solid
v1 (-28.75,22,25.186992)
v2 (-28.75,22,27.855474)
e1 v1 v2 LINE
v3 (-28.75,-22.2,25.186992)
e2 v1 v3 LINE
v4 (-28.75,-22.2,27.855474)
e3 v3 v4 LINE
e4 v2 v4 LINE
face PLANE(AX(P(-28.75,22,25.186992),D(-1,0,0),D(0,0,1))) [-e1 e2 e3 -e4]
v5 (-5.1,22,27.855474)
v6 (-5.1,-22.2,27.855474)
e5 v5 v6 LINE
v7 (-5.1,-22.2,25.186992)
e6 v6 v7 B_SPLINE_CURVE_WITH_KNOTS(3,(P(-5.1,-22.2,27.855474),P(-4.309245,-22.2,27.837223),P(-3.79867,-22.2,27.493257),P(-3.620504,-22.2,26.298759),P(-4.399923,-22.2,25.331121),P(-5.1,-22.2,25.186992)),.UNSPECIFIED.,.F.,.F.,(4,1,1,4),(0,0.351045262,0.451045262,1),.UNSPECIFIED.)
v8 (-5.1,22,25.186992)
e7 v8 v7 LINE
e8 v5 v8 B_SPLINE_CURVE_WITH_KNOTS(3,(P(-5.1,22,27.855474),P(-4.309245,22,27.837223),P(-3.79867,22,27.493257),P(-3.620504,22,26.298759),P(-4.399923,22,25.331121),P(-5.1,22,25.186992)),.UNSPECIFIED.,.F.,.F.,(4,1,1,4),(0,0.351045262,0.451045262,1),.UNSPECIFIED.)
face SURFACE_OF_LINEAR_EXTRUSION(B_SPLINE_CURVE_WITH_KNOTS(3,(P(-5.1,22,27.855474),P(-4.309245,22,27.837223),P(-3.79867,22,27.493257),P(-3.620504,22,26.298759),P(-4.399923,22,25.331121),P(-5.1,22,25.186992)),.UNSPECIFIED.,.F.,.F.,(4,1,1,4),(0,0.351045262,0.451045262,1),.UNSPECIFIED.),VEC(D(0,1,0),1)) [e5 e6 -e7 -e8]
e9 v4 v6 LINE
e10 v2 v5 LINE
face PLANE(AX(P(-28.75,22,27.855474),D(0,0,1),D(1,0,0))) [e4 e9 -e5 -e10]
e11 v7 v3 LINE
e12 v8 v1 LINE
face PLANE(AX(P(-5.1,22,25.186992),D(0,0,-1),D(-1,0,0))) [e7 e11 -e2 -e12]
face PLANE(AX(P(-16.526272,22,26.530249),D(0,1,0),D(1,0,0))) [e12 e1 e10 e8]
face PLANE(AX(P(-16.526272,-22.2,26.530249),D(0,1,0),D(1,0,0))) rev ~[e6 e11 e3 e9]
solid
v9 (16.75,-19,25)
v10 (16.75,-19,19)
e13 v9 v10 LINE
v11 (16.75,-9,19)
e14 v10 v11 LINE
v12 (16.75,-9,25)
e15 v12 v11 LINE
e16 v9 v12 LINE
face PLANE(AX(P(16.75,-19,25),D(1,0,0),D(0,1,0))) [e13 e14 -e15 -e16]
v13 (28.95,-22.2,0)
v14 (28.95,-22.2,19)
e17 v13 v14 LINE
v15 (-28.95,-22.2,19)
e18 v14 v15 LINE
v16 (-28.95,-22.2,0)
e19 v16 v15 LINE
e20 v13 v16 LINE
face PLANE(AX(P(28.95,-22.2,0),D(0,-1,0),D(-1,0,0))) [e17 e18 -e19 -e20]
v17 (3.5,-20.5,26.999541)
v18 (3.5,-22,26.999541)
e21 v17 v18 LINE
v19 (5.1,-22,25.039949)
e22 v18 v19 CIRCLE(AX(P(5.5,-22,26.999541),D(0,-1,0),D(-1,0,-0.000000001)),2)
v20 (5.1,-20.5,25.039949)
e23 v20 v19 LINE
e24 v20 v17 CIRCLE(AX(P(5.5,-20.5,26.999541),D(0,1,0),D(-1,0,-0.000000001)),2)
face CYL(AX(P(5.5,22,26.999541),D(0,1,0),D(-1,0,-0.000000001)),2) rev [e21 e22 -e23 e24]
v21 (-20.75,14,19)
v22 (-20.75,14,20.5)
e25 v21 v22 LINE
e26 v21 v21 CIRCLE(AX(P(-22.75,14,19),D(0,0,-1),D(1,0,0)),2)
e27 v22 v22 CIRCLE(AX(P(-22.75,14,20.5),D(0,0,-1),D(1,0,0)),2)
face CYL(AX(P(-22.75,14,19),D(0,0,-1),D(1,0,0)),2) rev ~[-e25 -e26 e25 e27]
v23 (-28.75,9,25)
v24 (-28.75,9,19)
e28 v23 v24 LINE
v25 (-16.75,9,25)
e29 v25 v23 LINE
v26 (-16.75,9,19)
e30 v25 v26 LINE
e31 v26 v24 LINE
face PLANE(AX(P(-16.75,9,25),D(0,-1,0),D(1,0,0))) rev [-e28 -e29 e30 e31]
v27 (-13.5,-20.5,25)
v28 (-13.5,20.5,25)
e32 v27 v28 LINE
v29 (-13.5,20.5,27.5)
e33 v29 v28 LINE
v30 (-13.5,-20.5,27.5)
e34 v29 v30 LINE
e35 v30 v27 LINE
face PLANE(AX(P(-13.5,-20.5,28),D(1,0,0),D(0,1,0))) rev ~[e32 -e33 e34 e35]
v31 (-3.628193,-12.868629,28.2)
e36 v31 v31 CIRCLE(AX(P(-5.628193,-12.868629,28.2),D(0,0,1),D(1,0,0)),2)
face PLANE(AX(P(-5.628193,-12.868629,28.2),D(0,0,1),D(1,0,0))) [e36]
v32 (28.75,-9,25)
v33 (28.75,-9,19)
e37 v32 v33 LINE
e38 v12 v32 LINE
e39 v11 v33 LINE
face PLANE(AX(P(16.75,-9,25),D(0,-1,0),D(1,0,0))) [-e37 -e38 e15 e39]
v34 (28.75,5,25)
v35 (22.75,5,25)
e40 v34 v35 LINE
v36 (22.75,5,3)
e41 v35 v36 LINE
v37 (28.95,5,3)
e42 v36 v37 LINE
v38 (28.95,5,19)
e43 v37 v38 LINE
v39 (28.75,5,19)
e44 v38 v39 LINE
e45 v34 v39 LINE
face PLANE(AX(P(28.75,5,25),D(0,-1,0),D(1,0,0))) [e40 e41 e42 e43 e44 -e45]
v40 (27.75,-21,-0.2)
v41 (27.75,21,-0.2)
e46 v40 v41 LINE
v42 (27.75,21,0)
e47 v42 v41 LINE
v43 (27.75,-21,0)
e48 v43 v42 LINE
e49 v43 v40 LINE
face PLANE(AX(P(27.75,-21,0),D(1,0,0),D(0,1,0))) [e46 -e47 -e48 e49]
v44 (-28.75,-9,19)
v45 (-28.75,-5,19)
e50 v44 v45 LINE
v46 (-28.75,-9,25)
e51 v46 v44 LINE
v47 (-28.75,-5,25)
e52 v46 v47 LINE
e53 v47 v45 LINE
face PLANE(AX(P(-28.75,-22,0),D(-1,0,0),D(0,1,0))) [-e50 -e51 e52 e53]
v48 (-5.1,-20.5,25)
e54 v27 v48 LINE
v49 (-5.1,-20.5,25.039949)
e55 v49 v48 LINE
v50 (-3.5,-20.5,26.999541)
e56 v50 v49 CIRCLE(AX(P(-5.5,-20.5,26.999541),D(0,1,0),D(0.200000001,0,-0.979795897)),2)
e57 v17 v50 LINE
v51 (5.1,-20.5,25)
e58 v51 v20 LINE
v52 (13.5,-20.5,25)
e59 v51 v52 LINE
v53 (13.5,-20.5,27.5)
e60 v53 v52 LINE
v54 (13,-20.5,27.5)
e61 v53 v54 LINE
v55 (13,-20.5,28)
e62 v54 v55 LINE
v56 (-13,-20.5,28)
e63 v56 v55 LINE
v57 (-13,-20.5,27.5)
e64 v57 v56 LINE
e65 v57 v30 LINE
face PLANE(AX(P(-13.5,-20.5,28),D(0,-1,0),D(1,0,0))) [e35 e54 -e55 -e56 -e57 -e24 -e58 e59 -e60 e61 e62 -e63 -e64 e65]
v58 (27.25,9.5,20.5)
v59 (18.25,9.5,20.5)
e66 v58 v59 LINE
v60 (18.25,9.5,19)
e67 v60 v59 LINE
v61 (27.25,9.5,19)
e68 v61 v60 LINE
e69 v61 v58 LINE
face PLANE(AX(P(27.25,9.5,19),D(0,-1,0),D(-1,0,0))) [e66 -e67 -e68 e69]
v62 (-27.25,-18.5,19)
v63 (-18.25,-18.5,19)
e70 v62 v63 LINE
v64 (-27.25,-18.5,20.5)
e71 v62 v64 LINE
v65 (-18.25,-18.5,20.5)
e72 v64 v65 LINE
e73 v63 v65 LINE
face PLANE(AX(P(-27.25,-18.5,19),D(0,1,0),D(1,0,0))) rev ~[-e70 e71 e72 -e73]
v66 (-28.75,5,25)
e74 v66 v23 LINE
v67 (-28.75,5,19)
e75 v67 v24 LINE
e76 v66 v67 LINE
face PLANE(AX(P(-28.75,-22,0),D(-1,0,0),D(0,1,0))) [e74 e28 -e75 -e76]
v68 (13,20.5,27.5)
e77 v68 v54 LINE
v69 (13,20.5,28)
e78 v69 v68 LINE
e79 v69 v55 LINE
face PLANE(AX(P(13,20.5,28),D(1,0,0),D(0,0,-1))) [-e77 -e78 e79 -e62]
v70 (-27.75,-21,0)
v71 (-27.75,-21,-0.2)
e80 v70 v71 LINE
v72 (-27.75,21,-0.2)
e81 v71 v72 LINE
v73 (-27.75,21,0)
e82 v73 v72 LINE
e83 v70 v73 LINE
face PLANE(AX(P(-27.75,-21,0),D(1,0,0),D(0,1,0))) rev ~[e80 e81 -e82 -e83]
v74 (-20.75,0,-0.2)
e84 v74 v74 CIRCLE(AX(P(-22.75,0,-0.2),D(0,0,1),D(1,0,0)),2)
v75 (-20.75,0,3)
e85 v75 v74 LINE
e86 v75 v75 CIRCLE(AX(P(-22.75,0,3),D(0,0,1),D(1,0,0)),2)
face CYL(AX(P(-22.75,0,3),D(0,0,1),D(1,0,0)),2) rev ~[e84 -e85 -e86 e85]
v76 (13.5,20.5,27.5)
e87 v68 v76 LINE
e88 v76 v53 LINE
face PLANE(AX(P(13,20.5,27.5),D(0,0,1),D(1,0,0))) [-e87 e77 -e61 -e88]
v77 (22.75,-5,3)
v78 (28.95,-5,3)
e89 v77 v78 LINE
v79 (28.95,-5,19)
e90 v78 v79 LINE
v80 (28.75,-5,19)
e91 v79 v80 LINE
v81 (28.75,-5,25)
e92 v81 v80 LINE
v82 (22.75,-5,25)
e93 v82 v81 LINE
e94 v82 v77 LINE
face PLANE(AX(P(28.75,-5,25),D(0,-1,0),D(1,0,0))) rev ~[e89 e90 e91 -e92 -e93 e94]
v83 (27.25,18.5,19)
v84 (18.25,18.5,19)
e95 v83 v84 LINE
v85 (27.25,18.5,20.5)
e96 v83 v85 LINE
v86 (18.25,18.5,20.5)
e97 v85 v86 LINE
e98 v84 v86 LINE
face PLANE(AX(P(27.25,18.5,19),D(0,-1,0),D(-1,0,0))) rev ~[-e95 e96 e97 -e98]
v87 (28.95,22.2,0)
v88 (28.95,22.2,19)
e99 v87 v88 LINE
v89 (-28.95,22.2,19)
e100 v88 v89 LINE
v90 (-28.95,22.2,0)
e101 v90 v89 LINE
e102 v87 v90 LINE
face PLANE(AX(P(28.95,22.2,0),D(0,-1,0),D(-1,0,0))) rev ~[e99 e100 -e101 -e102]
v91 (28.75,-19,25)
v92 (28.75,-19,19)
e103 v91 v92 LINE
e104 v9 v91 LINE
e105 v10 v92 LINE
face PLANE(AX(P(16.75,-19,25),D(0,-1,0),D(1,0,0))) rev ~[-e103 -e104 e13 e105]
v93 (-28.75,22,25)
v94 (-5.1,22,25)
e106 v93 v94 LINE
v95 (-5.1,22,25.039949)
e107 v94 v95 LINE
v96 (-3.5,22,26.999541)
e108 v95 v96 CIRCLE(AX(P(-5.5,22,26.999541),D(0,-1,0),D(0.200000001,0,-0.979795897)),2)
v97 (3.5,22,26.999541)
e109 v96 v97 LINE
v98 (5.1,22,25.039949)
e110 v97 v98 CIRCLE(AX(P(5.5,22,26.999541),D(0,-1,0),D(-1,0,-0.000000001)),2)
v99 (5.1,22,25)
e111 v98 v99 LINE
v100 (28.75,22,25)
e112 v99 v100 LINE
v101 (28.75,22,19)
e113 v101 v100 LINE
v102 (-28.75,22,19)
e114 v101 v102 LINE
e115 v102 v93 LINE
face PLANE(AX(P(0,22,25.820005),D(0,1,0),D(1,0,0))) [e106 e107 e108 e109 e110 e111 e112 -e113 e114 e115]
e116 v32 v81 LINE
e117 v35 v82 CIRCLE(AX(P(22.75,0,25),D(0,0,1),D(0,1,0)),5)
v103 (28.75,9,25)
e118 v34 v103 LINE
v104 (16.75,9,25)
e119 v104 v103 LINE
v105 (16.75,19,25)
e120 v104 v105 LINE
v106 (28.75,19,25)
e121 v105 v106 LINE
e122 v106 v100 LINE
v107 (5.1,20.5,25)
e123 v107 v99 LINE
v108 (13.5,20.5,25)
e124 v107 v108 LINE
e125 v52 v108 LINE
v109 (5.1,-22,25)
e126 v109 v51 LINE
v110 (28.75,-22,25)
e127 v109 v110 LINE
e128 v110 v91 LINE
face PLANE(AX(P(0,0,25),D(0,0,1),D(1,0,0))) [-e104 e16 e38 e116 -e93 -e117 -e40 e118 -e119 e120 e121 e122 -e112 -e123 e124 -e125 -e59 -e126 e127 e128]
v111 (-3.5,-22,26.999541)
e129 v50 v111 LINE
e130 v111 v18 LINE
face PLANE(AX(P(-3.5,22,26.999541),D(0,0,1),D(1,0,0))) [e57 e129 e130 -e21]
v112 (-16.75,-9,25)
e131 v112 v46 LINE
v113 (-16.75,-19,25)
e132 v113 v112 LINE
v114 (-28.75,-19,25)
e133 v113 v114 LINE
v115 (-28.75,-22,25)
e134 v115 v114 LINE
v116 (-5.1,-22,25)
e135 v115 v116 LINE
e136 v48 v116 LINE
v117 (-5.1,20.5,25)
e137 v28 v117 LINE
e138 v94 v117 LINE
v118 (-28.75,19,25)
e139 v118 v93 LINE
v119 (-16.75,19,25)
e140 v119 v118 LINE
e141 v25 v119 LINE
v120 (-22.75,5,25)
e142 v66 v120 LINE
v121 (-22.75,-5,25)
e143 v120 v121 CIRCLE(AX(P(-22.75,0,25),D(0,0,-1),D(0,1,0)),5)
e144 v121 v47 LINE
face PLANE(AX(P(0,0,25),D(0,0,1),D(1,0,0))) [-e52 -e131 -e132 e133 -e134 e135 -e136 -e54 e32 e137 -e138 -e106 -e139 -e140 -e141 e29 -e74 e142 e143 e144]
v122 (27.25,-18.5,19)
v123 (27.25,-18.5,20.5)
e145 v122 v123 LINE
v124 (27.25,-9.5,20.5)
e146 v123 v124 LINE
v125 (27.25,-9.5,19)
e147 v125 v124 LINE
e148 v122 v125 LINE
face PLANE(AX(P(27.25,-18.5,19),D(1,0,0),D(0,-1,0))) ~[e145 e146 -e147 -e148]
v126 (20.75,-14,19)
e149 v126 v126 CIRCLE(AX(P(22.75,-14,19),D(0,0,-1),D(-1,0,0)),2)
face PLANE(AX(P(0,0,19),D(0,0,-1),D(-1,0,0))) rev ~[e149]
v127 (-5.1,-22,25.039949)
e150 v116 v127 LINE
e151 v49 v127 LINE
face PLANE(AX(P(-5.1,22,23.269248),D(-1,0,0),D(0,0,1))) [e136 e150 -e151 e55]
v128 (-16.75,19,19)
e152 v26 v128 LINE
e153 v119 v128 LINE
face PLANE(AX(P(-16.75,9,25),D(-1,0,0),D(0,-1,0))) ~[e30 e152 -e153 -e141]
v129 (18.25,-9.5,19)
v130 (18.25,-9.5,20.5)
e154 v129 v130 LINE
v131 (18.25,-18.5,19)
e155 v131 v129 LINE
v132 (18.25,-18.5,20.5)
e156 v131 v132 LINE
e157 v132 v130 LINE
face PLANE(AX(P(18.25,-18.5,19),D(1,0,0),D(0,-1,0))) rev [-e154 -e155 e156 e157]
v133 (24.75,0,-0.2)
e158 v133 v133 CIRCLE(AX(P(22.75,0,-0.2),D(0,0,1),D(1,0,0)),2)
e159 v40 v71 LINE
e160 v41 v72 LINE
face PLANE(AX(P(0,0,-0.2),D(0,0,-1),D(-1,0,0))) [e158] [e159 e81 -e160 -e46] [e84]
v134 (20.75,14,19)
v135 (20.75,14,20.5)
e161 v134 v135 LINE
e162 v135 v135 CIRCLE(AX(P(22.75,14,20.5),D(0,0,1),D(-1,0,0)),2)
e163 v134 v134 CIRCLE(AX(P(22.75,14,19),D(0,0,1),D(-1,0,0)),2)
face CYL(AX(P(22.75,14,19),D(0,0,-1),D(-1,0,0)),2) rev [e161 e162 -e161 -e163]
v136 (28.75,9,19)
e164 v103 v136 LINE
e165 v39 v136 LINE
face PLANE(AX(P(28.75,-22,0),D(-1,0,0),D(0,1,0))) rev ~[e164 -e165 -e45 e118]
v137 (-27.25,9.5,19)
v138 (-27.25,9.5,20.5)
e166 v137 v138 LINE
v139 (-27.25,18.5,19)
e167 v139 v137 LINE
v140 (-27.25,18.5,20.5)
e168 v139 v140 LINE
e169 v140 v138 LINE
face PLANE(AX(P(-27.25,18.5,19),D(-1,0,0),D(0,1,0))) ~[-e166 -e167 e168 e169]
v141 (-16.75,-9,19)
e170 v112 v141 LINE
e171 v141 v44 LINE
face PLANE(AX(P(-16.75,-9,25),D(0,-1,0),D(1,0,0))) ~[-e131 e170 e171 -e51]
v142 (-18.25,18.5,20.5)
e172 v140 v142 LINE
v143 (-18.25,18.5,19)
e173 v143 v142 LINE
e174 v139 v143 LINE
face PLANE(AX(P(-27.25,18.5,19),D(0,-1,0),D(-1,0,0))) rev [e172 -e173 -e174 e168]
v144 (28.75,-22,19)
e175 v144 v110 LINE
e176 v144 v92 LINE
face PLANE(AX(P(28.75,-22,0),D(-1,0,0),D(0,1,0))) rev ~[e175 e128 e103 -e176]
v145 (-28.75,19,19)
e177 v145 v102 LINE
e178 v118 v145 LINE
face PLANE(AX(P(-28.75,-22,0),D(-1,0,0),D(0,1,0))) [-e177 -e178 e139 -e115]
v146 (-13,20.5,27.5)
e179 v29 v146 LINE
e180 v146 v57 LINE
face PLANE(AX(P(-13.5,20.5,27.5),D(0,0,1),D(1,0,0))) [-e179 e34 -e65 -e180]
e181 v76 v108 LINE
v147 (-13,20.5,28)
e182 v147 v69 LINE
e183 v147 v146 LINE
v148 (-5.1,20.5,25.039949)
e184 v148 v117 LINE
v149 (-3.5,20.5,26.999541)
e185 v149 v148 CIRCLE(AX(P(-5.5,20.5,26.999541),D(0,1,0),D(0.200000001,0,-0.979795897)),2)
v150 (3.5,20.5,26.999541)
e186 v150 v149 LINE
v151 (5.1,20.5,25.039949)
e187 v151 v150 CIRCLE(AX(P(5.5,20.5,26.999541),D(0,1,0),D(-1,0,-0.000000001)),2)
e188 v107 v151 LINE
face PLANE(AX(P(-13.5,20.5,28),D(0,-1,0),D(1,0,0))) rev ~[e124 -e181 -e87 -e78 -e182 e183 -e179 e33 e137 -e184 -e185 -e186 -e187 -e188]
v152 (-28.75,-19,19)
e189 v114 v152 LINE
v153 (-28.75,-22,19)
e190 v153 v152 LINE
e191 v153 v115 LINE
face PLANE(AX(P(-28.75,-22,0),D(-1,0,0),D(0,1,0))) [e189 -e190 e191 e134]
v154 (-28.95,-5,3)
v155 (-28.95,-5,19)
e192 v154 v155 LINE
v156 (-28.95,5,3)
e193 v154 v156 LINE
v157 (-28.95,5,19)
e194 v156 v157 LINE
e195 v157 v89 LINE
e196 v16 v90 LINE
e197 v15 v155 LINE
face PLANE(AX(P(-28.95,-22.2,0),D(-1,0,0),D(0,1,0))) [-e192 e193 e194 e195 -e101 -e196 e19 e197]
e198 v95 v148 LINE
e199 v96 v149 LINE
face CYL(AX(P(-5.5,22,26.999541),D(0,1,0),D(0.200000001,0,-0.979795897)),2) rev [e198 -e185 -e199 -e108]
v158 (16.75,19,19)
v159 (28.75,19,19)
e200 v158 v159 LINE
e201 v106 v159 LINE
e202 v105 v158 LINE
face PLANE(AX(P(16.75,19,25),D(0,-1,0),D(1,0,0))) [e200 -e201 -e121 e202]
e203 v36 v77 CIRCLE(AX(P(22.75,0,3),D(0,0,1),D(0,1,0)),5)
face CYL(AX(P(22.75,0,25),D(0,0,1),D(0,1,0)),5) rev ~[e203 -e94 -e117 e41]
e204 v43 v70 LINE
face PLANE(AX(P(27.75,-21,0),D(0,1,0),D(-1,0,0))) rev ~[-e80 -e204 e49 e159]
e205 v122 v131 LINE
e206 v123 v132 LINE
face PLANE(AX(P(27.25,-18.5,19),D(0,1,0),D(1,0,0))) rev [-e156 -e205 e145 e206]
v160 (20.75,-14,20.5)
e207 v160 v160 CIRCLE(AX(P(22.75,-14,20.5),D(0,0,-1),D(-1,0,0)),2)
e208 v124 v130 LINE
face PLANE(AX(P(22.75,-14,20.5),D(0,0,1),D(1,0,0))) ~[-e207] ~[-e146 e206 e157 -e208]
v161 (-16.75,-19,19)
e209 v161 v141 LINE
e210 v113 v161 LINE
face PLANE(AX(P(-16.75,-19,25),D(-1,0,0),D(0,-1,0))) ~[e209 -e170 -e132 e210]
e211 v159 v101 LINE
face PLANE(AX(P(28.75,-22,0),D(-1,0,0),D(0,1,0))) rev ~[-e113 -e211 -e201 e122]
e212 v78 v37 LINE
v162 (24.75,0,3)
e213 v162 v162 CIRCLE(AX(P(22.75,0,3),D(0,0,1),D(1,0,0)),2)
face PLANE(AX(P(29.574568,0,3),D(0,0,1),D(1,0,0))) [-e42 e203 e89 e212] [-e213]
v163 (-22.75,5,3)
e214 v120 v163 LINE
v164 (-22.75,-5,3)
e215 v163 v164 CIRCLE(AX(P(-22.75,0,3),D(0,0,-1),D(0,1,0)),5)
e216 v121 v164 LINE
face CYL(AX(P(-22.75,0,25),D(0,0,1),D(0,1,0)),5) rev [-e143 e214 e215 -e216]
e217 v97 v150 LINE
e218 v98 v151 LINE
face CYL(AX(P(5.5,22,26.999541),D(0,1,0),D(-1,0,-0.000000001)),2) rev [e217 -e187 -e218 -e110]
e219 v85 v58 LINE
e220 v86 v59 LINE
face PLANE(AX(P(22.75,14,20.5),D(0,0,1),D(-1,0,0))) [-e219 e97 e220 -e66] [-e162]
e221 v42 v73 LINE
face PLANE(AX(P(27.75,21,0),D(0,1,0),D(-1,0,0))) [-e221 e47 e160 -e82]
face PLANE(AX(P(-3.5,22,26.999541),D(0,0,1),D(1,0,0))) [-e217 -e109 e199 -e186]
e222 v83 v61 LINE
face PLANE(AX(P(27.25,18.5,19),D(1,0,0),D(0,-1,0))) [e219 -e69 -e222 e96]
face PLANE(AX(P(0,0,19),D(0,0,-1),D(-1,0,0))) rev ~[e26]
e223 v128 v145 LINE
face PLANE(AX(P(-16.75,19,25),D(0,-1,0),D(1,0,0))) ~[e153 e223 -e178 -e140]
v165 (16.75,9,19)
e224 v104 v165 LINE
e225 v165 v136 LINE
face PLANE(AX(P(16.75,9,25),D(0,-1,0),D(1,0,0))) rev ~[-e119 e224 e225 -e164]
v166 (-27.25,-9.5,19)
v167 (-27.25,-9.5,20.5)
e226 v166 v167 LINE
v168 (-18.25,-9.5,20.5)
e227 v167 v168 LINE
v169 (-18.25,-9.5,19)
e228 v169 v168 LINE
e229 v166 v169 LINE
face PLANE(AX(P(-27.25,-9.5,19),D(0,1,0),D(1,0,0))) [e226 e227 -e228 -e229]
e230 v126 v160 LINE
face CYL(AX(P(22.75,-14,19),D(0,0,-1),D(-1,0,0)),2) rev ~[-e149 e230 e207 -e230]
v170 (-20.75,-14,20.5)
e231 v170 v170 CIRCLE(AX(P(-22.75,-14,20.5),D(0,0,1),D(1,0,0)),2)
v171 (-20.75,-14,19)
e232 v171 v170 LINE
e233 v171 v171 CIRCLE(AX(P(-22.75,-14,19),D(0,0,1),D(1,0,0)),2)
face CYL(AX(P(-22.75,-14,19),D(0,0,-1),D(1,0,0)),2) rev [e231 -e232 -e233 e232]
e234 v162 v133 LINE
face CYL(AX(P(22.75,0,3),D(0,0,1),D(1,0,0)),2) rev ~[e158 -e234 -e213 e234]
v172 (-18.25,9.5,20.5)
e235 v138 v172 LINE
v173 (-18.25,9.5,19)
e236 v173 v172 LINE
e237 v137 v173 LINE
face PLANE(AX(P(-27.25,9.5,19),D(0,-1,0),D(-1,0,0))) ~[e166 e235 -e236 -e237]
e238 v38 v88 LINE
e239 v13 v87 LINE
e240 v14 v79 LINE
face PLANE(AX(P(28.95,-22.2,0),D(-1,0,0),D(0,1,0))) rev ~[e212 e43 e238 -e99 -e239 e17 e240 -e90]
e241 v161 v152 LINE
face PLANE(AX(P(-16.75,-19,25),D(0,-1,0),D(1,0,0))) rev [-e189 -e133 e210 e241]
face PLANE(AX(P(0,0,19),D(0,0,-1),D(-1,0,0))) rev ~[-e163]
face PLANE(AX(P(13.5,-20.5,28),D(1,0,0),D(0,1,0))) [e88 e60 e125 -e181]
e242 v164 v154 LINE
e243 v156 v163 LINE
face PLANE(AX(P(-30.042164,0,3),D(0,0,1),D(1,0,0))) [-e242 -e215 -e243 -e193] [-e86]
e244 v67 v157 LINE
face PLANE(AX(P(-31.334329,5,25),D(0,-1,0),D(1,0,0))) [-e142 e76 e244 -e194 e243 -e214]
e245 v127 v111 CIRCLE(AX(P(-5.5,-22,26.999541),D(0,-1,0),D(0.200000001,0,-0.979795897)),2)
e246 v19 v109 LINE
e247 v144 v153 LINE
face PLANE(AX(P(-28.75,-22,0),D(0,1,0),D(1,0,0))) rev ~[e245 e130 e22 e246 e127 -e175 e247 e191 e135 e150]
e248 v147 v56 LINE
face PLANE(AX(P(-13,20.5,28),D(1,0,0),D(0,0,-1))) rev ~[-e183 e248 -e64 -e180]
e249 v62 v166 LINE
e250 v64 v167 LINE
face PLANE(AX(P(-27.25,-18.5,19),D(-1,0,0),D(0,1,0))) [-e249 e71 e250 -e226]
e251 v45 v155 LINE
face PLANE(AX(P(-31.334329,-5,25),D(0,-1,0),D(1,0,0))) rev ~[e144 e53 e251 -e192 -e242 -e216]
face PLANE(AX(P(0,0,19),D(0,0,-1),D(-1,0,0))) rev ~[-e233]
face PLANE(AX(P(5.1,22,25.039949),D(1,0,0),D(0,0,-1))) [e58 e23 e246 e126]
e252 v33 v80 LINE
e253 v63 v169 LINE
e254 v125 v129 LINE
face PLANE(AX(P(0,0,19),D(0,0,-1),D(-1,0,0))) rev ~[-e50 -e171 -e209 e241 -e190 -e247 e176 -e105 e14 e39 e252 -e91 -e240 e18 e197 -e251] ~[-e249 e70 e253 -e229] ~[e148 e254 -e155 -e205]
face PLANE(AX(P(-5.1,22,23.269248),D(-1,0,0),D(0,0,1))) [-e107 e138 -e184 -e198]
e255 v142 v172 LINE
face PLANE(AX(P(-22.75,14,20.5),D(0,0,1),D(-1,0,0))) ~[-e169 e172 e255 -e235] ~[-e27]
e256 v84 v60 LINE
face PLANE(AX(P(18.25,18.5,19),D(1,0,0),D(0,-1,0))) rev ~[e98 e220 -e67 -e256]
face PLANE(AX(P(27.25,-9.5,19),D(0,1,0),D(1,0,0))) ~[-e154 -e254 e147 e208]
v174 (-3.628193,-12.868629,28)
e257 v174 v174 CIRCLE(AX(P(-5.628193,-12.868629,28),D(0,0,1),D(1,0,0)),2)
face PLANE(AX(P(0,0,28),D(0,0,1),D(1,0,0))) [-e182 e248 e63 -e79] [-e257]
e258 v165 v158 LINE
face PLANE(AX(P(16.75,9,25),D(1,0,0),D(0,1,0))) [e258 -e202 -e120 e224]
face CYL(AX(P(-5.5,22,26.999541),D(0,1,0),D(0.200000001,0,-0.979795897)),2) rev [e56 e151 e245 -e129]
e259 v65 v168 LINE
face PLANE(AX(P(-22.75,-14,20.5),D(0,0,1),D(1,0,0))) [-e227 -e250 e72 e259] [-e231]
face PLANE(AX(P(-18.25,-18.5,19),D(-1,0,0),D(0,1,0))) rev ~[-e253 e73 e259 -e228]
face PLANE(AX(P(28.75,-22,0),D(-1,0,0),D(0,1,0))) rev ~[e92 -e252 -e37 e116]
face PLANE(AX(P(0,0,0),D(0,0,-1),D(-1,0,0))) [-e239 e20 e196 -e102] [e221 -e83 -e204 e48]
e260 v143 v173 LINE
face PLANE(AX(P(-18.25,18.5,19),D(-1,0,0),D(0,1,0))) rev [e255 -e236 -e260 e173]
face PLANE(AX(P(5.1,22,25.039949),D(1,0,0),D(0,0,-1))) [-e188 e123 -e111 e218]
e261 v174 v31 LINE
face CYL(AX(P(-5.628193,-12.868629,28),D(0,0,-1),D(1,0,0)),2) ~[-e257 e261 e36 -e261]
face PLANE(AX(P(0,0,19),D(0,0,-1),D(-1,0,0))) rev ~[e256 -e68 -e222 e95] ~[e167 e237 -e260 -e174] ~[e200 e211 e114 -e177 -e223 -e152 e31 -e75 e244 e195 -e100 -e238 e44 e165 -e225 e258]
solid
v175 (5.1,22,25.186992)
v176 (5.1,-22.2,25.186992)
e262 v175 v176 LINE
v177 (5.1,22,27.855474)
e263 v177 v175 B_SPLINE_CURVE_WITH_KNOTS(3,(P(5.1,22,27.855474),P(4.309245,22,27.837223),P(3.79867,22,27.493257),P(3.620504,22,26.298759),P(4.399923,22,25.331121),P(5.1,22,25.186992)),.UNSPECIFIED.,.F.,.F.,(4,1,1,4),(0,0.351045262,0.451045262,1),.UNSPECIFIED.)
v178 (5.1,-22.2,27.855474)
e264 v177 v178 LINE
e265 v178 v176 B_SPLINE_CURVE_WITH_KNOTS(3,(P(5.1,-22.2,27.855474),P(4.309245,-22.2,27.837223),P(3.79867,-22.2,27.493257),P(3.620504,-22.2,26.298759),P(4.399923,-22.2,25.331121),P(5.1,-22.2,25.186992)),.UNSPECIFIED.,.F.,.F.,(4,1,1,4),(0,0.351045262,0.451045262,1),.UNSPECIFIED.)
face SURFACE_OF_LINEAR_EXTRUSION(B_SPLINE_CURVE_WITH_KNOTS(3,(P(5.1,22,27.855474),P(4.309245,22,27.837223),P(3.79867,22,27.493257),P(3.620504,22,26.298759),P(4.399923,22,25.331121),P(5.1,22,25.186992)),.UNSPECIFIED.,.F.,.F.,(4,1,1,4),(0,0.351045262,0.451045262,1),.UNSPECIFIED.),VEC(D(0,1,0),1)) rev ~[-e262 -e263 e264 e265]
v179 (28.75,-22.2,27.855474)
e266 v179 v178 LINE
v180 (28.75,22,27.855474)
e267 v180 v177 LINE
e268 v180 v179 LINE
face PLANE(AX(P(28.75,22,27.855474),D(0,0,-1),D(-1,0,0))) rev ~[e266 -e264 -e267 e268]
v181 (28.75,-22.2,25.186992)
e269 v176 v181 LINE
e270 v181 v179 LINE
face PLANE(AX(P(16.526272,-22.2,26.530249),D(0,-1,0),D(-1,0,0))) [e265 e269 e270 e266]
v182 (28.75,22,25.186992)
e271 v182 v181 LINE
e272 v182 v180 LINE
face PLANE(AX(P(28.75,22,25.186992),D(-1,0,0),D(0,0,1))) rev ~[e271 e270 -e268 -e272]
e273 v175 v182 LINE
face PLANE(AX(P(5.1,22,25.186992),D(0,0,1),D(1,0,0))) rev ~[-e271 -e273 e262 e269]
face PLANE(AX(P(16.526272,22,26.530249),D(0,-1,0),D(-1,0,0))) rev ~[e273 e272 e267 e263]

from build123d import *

# Parameters (mm, degrees)
SKETCH1_W               = 57.5
SKETCH1_H               = 44
BOSS_EXTRUDE1_DEPTH     = 28
SKETCH2_W               = 57.5
SKETCH2_H               = 44
SKETCH2_W_2             = 27
SKETCH2_H_2             = 41
CUT_EXTRUDE1_DEPTH      = 3
SKETCH3_W               = 10.2
SKETCH3_H               = 1.730752257
BOSS_EXTRUDE2_DEPTH     = 44
SKETCH4_W               = 0.5
SKETCH4_H               = 0.5
CUT_EXTRUDE2_DEPTH      = 59.453507166
SKETCH5_W               = 12
SKETCH5_H               = 10
CUT_EXTRUDE3_DEPTH      = 6
CUT_EXTRUDE4_DEPTH      = 22
SKETCH8_R               = 2
BOSS_EXTRUDE3_DEPTH     = 0.2
SKETCH9_W               = 55.5
SKETCH9_H               = 42
BOSS_EXTRUDE4_DEPTH     = 0.2
SKETCH7_R               = 2
CUT_EXTRUDE5_DEPTH      = 22
SKETCH10_W              = 57.9
SKETCH10_H              = 44.4
SKETCH10_W_2            = 57.5
SKETCH10_H_2            = 44
BOSS_EXTRUDE5_DEPTH     = 19
SKETCH11_W              = 2.584328925
SKETCH11_H              = 10
SKETCH11_W_2            = 1.649136063
CUT_EXTRUDE6_DEPTH      = 22
SKETCH12_W              = 9
SKETCH12_H              = 9
SKETCH12_R              = 2
BOSS_EXTRUDE6_DEPTH     = 1.5
MIRROR3_COPY_1_SKETCH_W = 9
MIRROR3_COPY_1_SKETCH_H = 9
MIRROR3_COPY_1_SKETCH_R = 2
MIRROR3_COPY_1_DEPTH    = 1.5
BOSS_EXTRUDE7_DEPTH     = 44.2
BOSS_EXTRUDE7_2_DEPTH   = 44.2


with BuildPart() as part:
    # Sketch1 → Boss-Extrude1 (new body)
    with BuildSketch(Plane.XY):
        Rectangle(SKETCH1_W, SKETCH1_H)
    extrude(amount=BOSS_EXTRUDE1_DEPTH)

    # Sketch2 → Cut-Extrude1 (cut)
    with BuildSketch(Plane.XY.offset(28)):
        Rectangle(SKETCH2_W, SKETCH2_H)
        Rectangle(SKETCH2_W_2, SKETCH2_H_2, mode=Mode.SUBTRACT)
    extrude(amount=-CUT_EXTRUDE1_DEPTH, mode=Mode.SUBTRACT)

    # Sketch3 → Boss-Extrude2 (add, through all)
    with BuildSketch(Plane(origin=(0, 22, 0), x_dir=(1, 0, 0), z_dir=(0, 1, 0))):
        with BuildLine():
            Line((-3.5, -26.999540764), (3.5, -26.999540764))
            ThreePointArc((3.5, -26.999540764), (3.950806662, -25.7346297), (5.1, -25.039948969))
            Line((5.1, -25.039948969), (5.1, -25))
            Line((5.1, -25), (-5.1, -25))
            Line((-5.1, -25), (-5.1, -25.039948969))
            ThreePointArc((-5.1, -25.039948969), (-3.950806662, -25.7346297), (-3.5, -26.999540764))
        make_face()
        with Locations((0, -24.134623872)):
            Rectangle(SKETCH3_W, SKETCH3_H)
    extrude(amount=-BOSS_EXTRUDE2_DEPTH)

    # Sketch4 → Cut-Extrude2 (cut, through all)
    with BuildSketch(Plane(origin=(0, 20.5, 0), x_dir=(1, 0, 0), z_dir=(0, 1, 0))):
        with Locations((13.25, -27.75)):
            Rectangle(SKETCH4_W, SKETCH4_H)
        with Locations((-13.25, -27.75)):
            Rectangle(SKETCH4_W, SKETCH4_H)
    extrude(amount=-CUT_EXTRUDE2_DEPTH, mode=Mode.SUBTRACT)

    # Sketch5 → Cut-Extrude3 (cut)
    with BuildSketch(Plane.XY.offset(25)):
        with Locations((22.75, -14)):
            Rectangle(SKETCH5_W, SKETCH5_H)
        with Locations((22.75, 14)):
            Rectangle(SKETCH5_W, SKETCH5_H)
    cut_extrude3 = extrude(amount=-CUT_EXTRUDE3_DEPTH, mode=Mode.SUBTRACT)

    # Sketch6 → Cut-Extrude4 (cut)
    with BuildSketch(Plane.XY.offset(25)):
        with BuildLine():
            Line((22.75, -5), (28.75, -5))
            Line((28.75, -5), (28.75, 5))
            Line((28.75, 5), (22.75, 5))
            ThreePointArc((22.75, 5), (26.285533906, 3.535533906), (27.75, 0))
            ThreePointArc((27.75, 0), (26.285533906, -3.535533906), (22.75, -5))
        make_face()
        with BuildLine():
            ThreePointArc((22.75, 5), (17.75, 0), (22.75, -5))
            Line((22.75, -5), (22.75, 5))
        make_face()
        with BuildLine():
            Line((22.75, 5), (22.75, -5))
            ThreePointArc((22.75, -5), (26.285533906, -3.535533906), (27.75, 0))
            ThreePointArc((27.75, 0), (26.285533906, 3.535533906), (22.75, 5))
        make_face()
        with BuildLine():
            ThreePointArc((22.75, 5), (17.75, 0), (22.75, -5))
            Line((22.75, -5), (22.75, 5))
        make_face()
        with BuildLine():
            Line((22.75, 5), (22.75, -5))
            ThreePointArc((22.75, -5), (26.285533906, -3.535533906), (27.75, 0))
            ThreePointArc((27.75, 0), (26.285533906, 3.535533906), (22.75, 5))
        make_face()
    cut_extrude4 = extrude(amount=-CUT_EXTRUDE4_DEPTH, mode=Mode.SUBTRACT)

    # Mirror1: Cut-Extrude3, Cut-Extrude4 across plane
    add(cut_extrude3.mirror(Plane(origin=(0, 0, 0), x_dir=(0, 0, 1), z_dir=(1, 0, 0))), mode=Mode.SUBTRACT)
    add(cut_extrude4.mirror(Plane(origin=(0, 0, 0), x_dir=(0, 0, 1), z_dir=(1, 0, 0))), mode=Mode.SUBTRACT)

    # Sketch8 → Boss-Extrude3 (add)
    with BuildSketch(Plane.XY.offset(28)):
        with Locations((-5.62819331, -12.868629494)):
            Circle(SKETCH8_R)
    extrude(amount=BOSS_EXTRUDE3_DEPTH)

    # Sketch9 → Boss-Extrude4 (add)
    with BuildSketch(Plane(origin=(0, 0, 0), x_dir=(-1, 0, 0), z_dir=(0, 0, -1))):
        Rectangle(SKETCH9_W, SKETCH9_H)
    extrude(amount=BOSS_EXTRUDE4_DEPTH)

    # Sketch7 → Cut-Extrude5 (cut)
    with BuildSketch(Plane.XY.offset(3)):
        with Locations((22.75, 0)):
            Circle(SKETCH7_R)
        with Locations((-22.75, 0)):
            Circle(SKETCH7_R)
    extrude(amount=-CUT_EXTRUDE5_DEPTH, mode=Mode.SUBTRACT)

    # Sketch10 → Boss-Extrude5 (add)
    with BuildSketch(Plane(origin=(0, 0, 0), x_dir=(-1, 0, 0), z_dir=(0, 0, -1))):
        Rectangle(SKETCH10_W, SKETCH10_H)
        Rectangle(SKETCH10_W_2, SKETCH10_H_2, mode=Mode.SUBTRACT)
    extrude(amount=-BOSS_EXTRUDE5_DEPTH)

    # Sketch11 → Cut-Extrude6 (cut)
    with BuildSketch(Plane.XY.offset(25)):
        with Locations((-30.042164463, 0)):
            Rectangle(SKETCH11_W, SKETCH11_H)
        with Locations((29.574568032, 0)):
            Rectangle(SKETCH11_W_2, SKETCH11_H)
    extrude(amount=-CUT_EXTRUDE6_DEPTH, mode=Mode.SUBTRACT)

    # Sketch12 → Boss-Extrude6 (add)
    with BuildSketch(Plane.XY.offset(19)):
        with Locations((-22.75, -14)):
            Rectangle(SKETCH12_W, SKETCH12_H)
        with Locations((-22.75, -14)):
            Circle(SKETCH12_R, mode=Mode.SUBTRACT)
    boss_extrude6 = extrude(amount=BOSS_EXTRUDE6_DEPTH)

    # Mirror2: Boss-Extrude6 across plane
    add(boss_extrude6.mirror(Plane.ZX))

    # Mirror3: Boss-Extrude6 across plane
    add(boss_extrude6.mirror(Plane(origin=(0, 0, 0), x_dir=(0, 0, 1), z_dir=(1, 0, 0))))

    # Mirror3 copy 1 sketch → Mirror3 copy 1 (add)
    with BuildSketch(Plane(origin=(0, 0, 19), x_dir=(-1, 0, 0), z_dir=(0, 0, 1))):
        with Locations((-22.75, -14)):
            Rectangle(MIRROR3_COPY_1_SKETCH_W, MIRROR3_COPY_1_SKETCH_H)
        with Locations((-22.75, -14)):
            Circle(MIRROR3_COPY_1_SKETCH_R, mode=Mode.SUBTRACT)
    extrude(amount=MIRROR3_COPY_1_DEPTH)


with BuildPart() as body_2:
    # Sketch14 → Boss-Extrude7 (new, through all)
    with BuildSketch(Plane(origin=(0, 22, 0), x_dir=(1, 0, 0), z_dir=(0, 1, 0))):
        with BuildLine():
            Line((-5.1, -25.186992194), (-28.75, -25.186992194))
            Line((-28.75, -25.186992194), (-28.75, -27.855473738))
            Line((-28.75, -27.855473738), (-5.1, -27.855473738))
            add(Edge.make_bspline(
                [(-5.1, -27.855473738), (-4.309245216, -27.837222897), (-3.79867042, -27.493257099), (-3.620504351, -26.29875873), (-4.399923319, -25.331121248), (-5.1, -25.186992194)],
                knots=[0, 0, 0, 0, 0.351045262, 0.451045262, 1, 1, 1, 1], degree=3))
        make_face()
    extrude(amount=-BOSS_EXTRUDE7_DEPTH)


with BuildPart() as body_3:
    # Sketch14 → Boss-Extrude7 2 (new, through all)
    with BuildSketch(Plane(origin=(0, 22, 0), x_dir=(1, 0, 0), z_dir=(0, 1, 0))):
        with BuildLine():
            Line((28.75, -27.855473738), (5.1, -27.855473738))
            add(Edge.make_bspline(
                [(5.1, -27.855473738), (4.309245216, -27.837222897), (3.79867042, -27.493257099), (3.620504351, -26.29875873), (4.399923319, -25.331121248), (5.1, -25.186992194)],
                knots=[0, 0, 0, 0, 0.351045262, 0.451045262, 1, 1, 1, 1], degree=3))
            Line((5.1, -25.186992194), (28.75, -25.186992194))
            Line((28.75, -25.186992194), (28.75, -27.855473738))
        make_face()
    extrude(amount=-BOSS_EXTRUDE7_2_DEPTH)


solid = Compound([part.part, body_2.part, body_3.part])
